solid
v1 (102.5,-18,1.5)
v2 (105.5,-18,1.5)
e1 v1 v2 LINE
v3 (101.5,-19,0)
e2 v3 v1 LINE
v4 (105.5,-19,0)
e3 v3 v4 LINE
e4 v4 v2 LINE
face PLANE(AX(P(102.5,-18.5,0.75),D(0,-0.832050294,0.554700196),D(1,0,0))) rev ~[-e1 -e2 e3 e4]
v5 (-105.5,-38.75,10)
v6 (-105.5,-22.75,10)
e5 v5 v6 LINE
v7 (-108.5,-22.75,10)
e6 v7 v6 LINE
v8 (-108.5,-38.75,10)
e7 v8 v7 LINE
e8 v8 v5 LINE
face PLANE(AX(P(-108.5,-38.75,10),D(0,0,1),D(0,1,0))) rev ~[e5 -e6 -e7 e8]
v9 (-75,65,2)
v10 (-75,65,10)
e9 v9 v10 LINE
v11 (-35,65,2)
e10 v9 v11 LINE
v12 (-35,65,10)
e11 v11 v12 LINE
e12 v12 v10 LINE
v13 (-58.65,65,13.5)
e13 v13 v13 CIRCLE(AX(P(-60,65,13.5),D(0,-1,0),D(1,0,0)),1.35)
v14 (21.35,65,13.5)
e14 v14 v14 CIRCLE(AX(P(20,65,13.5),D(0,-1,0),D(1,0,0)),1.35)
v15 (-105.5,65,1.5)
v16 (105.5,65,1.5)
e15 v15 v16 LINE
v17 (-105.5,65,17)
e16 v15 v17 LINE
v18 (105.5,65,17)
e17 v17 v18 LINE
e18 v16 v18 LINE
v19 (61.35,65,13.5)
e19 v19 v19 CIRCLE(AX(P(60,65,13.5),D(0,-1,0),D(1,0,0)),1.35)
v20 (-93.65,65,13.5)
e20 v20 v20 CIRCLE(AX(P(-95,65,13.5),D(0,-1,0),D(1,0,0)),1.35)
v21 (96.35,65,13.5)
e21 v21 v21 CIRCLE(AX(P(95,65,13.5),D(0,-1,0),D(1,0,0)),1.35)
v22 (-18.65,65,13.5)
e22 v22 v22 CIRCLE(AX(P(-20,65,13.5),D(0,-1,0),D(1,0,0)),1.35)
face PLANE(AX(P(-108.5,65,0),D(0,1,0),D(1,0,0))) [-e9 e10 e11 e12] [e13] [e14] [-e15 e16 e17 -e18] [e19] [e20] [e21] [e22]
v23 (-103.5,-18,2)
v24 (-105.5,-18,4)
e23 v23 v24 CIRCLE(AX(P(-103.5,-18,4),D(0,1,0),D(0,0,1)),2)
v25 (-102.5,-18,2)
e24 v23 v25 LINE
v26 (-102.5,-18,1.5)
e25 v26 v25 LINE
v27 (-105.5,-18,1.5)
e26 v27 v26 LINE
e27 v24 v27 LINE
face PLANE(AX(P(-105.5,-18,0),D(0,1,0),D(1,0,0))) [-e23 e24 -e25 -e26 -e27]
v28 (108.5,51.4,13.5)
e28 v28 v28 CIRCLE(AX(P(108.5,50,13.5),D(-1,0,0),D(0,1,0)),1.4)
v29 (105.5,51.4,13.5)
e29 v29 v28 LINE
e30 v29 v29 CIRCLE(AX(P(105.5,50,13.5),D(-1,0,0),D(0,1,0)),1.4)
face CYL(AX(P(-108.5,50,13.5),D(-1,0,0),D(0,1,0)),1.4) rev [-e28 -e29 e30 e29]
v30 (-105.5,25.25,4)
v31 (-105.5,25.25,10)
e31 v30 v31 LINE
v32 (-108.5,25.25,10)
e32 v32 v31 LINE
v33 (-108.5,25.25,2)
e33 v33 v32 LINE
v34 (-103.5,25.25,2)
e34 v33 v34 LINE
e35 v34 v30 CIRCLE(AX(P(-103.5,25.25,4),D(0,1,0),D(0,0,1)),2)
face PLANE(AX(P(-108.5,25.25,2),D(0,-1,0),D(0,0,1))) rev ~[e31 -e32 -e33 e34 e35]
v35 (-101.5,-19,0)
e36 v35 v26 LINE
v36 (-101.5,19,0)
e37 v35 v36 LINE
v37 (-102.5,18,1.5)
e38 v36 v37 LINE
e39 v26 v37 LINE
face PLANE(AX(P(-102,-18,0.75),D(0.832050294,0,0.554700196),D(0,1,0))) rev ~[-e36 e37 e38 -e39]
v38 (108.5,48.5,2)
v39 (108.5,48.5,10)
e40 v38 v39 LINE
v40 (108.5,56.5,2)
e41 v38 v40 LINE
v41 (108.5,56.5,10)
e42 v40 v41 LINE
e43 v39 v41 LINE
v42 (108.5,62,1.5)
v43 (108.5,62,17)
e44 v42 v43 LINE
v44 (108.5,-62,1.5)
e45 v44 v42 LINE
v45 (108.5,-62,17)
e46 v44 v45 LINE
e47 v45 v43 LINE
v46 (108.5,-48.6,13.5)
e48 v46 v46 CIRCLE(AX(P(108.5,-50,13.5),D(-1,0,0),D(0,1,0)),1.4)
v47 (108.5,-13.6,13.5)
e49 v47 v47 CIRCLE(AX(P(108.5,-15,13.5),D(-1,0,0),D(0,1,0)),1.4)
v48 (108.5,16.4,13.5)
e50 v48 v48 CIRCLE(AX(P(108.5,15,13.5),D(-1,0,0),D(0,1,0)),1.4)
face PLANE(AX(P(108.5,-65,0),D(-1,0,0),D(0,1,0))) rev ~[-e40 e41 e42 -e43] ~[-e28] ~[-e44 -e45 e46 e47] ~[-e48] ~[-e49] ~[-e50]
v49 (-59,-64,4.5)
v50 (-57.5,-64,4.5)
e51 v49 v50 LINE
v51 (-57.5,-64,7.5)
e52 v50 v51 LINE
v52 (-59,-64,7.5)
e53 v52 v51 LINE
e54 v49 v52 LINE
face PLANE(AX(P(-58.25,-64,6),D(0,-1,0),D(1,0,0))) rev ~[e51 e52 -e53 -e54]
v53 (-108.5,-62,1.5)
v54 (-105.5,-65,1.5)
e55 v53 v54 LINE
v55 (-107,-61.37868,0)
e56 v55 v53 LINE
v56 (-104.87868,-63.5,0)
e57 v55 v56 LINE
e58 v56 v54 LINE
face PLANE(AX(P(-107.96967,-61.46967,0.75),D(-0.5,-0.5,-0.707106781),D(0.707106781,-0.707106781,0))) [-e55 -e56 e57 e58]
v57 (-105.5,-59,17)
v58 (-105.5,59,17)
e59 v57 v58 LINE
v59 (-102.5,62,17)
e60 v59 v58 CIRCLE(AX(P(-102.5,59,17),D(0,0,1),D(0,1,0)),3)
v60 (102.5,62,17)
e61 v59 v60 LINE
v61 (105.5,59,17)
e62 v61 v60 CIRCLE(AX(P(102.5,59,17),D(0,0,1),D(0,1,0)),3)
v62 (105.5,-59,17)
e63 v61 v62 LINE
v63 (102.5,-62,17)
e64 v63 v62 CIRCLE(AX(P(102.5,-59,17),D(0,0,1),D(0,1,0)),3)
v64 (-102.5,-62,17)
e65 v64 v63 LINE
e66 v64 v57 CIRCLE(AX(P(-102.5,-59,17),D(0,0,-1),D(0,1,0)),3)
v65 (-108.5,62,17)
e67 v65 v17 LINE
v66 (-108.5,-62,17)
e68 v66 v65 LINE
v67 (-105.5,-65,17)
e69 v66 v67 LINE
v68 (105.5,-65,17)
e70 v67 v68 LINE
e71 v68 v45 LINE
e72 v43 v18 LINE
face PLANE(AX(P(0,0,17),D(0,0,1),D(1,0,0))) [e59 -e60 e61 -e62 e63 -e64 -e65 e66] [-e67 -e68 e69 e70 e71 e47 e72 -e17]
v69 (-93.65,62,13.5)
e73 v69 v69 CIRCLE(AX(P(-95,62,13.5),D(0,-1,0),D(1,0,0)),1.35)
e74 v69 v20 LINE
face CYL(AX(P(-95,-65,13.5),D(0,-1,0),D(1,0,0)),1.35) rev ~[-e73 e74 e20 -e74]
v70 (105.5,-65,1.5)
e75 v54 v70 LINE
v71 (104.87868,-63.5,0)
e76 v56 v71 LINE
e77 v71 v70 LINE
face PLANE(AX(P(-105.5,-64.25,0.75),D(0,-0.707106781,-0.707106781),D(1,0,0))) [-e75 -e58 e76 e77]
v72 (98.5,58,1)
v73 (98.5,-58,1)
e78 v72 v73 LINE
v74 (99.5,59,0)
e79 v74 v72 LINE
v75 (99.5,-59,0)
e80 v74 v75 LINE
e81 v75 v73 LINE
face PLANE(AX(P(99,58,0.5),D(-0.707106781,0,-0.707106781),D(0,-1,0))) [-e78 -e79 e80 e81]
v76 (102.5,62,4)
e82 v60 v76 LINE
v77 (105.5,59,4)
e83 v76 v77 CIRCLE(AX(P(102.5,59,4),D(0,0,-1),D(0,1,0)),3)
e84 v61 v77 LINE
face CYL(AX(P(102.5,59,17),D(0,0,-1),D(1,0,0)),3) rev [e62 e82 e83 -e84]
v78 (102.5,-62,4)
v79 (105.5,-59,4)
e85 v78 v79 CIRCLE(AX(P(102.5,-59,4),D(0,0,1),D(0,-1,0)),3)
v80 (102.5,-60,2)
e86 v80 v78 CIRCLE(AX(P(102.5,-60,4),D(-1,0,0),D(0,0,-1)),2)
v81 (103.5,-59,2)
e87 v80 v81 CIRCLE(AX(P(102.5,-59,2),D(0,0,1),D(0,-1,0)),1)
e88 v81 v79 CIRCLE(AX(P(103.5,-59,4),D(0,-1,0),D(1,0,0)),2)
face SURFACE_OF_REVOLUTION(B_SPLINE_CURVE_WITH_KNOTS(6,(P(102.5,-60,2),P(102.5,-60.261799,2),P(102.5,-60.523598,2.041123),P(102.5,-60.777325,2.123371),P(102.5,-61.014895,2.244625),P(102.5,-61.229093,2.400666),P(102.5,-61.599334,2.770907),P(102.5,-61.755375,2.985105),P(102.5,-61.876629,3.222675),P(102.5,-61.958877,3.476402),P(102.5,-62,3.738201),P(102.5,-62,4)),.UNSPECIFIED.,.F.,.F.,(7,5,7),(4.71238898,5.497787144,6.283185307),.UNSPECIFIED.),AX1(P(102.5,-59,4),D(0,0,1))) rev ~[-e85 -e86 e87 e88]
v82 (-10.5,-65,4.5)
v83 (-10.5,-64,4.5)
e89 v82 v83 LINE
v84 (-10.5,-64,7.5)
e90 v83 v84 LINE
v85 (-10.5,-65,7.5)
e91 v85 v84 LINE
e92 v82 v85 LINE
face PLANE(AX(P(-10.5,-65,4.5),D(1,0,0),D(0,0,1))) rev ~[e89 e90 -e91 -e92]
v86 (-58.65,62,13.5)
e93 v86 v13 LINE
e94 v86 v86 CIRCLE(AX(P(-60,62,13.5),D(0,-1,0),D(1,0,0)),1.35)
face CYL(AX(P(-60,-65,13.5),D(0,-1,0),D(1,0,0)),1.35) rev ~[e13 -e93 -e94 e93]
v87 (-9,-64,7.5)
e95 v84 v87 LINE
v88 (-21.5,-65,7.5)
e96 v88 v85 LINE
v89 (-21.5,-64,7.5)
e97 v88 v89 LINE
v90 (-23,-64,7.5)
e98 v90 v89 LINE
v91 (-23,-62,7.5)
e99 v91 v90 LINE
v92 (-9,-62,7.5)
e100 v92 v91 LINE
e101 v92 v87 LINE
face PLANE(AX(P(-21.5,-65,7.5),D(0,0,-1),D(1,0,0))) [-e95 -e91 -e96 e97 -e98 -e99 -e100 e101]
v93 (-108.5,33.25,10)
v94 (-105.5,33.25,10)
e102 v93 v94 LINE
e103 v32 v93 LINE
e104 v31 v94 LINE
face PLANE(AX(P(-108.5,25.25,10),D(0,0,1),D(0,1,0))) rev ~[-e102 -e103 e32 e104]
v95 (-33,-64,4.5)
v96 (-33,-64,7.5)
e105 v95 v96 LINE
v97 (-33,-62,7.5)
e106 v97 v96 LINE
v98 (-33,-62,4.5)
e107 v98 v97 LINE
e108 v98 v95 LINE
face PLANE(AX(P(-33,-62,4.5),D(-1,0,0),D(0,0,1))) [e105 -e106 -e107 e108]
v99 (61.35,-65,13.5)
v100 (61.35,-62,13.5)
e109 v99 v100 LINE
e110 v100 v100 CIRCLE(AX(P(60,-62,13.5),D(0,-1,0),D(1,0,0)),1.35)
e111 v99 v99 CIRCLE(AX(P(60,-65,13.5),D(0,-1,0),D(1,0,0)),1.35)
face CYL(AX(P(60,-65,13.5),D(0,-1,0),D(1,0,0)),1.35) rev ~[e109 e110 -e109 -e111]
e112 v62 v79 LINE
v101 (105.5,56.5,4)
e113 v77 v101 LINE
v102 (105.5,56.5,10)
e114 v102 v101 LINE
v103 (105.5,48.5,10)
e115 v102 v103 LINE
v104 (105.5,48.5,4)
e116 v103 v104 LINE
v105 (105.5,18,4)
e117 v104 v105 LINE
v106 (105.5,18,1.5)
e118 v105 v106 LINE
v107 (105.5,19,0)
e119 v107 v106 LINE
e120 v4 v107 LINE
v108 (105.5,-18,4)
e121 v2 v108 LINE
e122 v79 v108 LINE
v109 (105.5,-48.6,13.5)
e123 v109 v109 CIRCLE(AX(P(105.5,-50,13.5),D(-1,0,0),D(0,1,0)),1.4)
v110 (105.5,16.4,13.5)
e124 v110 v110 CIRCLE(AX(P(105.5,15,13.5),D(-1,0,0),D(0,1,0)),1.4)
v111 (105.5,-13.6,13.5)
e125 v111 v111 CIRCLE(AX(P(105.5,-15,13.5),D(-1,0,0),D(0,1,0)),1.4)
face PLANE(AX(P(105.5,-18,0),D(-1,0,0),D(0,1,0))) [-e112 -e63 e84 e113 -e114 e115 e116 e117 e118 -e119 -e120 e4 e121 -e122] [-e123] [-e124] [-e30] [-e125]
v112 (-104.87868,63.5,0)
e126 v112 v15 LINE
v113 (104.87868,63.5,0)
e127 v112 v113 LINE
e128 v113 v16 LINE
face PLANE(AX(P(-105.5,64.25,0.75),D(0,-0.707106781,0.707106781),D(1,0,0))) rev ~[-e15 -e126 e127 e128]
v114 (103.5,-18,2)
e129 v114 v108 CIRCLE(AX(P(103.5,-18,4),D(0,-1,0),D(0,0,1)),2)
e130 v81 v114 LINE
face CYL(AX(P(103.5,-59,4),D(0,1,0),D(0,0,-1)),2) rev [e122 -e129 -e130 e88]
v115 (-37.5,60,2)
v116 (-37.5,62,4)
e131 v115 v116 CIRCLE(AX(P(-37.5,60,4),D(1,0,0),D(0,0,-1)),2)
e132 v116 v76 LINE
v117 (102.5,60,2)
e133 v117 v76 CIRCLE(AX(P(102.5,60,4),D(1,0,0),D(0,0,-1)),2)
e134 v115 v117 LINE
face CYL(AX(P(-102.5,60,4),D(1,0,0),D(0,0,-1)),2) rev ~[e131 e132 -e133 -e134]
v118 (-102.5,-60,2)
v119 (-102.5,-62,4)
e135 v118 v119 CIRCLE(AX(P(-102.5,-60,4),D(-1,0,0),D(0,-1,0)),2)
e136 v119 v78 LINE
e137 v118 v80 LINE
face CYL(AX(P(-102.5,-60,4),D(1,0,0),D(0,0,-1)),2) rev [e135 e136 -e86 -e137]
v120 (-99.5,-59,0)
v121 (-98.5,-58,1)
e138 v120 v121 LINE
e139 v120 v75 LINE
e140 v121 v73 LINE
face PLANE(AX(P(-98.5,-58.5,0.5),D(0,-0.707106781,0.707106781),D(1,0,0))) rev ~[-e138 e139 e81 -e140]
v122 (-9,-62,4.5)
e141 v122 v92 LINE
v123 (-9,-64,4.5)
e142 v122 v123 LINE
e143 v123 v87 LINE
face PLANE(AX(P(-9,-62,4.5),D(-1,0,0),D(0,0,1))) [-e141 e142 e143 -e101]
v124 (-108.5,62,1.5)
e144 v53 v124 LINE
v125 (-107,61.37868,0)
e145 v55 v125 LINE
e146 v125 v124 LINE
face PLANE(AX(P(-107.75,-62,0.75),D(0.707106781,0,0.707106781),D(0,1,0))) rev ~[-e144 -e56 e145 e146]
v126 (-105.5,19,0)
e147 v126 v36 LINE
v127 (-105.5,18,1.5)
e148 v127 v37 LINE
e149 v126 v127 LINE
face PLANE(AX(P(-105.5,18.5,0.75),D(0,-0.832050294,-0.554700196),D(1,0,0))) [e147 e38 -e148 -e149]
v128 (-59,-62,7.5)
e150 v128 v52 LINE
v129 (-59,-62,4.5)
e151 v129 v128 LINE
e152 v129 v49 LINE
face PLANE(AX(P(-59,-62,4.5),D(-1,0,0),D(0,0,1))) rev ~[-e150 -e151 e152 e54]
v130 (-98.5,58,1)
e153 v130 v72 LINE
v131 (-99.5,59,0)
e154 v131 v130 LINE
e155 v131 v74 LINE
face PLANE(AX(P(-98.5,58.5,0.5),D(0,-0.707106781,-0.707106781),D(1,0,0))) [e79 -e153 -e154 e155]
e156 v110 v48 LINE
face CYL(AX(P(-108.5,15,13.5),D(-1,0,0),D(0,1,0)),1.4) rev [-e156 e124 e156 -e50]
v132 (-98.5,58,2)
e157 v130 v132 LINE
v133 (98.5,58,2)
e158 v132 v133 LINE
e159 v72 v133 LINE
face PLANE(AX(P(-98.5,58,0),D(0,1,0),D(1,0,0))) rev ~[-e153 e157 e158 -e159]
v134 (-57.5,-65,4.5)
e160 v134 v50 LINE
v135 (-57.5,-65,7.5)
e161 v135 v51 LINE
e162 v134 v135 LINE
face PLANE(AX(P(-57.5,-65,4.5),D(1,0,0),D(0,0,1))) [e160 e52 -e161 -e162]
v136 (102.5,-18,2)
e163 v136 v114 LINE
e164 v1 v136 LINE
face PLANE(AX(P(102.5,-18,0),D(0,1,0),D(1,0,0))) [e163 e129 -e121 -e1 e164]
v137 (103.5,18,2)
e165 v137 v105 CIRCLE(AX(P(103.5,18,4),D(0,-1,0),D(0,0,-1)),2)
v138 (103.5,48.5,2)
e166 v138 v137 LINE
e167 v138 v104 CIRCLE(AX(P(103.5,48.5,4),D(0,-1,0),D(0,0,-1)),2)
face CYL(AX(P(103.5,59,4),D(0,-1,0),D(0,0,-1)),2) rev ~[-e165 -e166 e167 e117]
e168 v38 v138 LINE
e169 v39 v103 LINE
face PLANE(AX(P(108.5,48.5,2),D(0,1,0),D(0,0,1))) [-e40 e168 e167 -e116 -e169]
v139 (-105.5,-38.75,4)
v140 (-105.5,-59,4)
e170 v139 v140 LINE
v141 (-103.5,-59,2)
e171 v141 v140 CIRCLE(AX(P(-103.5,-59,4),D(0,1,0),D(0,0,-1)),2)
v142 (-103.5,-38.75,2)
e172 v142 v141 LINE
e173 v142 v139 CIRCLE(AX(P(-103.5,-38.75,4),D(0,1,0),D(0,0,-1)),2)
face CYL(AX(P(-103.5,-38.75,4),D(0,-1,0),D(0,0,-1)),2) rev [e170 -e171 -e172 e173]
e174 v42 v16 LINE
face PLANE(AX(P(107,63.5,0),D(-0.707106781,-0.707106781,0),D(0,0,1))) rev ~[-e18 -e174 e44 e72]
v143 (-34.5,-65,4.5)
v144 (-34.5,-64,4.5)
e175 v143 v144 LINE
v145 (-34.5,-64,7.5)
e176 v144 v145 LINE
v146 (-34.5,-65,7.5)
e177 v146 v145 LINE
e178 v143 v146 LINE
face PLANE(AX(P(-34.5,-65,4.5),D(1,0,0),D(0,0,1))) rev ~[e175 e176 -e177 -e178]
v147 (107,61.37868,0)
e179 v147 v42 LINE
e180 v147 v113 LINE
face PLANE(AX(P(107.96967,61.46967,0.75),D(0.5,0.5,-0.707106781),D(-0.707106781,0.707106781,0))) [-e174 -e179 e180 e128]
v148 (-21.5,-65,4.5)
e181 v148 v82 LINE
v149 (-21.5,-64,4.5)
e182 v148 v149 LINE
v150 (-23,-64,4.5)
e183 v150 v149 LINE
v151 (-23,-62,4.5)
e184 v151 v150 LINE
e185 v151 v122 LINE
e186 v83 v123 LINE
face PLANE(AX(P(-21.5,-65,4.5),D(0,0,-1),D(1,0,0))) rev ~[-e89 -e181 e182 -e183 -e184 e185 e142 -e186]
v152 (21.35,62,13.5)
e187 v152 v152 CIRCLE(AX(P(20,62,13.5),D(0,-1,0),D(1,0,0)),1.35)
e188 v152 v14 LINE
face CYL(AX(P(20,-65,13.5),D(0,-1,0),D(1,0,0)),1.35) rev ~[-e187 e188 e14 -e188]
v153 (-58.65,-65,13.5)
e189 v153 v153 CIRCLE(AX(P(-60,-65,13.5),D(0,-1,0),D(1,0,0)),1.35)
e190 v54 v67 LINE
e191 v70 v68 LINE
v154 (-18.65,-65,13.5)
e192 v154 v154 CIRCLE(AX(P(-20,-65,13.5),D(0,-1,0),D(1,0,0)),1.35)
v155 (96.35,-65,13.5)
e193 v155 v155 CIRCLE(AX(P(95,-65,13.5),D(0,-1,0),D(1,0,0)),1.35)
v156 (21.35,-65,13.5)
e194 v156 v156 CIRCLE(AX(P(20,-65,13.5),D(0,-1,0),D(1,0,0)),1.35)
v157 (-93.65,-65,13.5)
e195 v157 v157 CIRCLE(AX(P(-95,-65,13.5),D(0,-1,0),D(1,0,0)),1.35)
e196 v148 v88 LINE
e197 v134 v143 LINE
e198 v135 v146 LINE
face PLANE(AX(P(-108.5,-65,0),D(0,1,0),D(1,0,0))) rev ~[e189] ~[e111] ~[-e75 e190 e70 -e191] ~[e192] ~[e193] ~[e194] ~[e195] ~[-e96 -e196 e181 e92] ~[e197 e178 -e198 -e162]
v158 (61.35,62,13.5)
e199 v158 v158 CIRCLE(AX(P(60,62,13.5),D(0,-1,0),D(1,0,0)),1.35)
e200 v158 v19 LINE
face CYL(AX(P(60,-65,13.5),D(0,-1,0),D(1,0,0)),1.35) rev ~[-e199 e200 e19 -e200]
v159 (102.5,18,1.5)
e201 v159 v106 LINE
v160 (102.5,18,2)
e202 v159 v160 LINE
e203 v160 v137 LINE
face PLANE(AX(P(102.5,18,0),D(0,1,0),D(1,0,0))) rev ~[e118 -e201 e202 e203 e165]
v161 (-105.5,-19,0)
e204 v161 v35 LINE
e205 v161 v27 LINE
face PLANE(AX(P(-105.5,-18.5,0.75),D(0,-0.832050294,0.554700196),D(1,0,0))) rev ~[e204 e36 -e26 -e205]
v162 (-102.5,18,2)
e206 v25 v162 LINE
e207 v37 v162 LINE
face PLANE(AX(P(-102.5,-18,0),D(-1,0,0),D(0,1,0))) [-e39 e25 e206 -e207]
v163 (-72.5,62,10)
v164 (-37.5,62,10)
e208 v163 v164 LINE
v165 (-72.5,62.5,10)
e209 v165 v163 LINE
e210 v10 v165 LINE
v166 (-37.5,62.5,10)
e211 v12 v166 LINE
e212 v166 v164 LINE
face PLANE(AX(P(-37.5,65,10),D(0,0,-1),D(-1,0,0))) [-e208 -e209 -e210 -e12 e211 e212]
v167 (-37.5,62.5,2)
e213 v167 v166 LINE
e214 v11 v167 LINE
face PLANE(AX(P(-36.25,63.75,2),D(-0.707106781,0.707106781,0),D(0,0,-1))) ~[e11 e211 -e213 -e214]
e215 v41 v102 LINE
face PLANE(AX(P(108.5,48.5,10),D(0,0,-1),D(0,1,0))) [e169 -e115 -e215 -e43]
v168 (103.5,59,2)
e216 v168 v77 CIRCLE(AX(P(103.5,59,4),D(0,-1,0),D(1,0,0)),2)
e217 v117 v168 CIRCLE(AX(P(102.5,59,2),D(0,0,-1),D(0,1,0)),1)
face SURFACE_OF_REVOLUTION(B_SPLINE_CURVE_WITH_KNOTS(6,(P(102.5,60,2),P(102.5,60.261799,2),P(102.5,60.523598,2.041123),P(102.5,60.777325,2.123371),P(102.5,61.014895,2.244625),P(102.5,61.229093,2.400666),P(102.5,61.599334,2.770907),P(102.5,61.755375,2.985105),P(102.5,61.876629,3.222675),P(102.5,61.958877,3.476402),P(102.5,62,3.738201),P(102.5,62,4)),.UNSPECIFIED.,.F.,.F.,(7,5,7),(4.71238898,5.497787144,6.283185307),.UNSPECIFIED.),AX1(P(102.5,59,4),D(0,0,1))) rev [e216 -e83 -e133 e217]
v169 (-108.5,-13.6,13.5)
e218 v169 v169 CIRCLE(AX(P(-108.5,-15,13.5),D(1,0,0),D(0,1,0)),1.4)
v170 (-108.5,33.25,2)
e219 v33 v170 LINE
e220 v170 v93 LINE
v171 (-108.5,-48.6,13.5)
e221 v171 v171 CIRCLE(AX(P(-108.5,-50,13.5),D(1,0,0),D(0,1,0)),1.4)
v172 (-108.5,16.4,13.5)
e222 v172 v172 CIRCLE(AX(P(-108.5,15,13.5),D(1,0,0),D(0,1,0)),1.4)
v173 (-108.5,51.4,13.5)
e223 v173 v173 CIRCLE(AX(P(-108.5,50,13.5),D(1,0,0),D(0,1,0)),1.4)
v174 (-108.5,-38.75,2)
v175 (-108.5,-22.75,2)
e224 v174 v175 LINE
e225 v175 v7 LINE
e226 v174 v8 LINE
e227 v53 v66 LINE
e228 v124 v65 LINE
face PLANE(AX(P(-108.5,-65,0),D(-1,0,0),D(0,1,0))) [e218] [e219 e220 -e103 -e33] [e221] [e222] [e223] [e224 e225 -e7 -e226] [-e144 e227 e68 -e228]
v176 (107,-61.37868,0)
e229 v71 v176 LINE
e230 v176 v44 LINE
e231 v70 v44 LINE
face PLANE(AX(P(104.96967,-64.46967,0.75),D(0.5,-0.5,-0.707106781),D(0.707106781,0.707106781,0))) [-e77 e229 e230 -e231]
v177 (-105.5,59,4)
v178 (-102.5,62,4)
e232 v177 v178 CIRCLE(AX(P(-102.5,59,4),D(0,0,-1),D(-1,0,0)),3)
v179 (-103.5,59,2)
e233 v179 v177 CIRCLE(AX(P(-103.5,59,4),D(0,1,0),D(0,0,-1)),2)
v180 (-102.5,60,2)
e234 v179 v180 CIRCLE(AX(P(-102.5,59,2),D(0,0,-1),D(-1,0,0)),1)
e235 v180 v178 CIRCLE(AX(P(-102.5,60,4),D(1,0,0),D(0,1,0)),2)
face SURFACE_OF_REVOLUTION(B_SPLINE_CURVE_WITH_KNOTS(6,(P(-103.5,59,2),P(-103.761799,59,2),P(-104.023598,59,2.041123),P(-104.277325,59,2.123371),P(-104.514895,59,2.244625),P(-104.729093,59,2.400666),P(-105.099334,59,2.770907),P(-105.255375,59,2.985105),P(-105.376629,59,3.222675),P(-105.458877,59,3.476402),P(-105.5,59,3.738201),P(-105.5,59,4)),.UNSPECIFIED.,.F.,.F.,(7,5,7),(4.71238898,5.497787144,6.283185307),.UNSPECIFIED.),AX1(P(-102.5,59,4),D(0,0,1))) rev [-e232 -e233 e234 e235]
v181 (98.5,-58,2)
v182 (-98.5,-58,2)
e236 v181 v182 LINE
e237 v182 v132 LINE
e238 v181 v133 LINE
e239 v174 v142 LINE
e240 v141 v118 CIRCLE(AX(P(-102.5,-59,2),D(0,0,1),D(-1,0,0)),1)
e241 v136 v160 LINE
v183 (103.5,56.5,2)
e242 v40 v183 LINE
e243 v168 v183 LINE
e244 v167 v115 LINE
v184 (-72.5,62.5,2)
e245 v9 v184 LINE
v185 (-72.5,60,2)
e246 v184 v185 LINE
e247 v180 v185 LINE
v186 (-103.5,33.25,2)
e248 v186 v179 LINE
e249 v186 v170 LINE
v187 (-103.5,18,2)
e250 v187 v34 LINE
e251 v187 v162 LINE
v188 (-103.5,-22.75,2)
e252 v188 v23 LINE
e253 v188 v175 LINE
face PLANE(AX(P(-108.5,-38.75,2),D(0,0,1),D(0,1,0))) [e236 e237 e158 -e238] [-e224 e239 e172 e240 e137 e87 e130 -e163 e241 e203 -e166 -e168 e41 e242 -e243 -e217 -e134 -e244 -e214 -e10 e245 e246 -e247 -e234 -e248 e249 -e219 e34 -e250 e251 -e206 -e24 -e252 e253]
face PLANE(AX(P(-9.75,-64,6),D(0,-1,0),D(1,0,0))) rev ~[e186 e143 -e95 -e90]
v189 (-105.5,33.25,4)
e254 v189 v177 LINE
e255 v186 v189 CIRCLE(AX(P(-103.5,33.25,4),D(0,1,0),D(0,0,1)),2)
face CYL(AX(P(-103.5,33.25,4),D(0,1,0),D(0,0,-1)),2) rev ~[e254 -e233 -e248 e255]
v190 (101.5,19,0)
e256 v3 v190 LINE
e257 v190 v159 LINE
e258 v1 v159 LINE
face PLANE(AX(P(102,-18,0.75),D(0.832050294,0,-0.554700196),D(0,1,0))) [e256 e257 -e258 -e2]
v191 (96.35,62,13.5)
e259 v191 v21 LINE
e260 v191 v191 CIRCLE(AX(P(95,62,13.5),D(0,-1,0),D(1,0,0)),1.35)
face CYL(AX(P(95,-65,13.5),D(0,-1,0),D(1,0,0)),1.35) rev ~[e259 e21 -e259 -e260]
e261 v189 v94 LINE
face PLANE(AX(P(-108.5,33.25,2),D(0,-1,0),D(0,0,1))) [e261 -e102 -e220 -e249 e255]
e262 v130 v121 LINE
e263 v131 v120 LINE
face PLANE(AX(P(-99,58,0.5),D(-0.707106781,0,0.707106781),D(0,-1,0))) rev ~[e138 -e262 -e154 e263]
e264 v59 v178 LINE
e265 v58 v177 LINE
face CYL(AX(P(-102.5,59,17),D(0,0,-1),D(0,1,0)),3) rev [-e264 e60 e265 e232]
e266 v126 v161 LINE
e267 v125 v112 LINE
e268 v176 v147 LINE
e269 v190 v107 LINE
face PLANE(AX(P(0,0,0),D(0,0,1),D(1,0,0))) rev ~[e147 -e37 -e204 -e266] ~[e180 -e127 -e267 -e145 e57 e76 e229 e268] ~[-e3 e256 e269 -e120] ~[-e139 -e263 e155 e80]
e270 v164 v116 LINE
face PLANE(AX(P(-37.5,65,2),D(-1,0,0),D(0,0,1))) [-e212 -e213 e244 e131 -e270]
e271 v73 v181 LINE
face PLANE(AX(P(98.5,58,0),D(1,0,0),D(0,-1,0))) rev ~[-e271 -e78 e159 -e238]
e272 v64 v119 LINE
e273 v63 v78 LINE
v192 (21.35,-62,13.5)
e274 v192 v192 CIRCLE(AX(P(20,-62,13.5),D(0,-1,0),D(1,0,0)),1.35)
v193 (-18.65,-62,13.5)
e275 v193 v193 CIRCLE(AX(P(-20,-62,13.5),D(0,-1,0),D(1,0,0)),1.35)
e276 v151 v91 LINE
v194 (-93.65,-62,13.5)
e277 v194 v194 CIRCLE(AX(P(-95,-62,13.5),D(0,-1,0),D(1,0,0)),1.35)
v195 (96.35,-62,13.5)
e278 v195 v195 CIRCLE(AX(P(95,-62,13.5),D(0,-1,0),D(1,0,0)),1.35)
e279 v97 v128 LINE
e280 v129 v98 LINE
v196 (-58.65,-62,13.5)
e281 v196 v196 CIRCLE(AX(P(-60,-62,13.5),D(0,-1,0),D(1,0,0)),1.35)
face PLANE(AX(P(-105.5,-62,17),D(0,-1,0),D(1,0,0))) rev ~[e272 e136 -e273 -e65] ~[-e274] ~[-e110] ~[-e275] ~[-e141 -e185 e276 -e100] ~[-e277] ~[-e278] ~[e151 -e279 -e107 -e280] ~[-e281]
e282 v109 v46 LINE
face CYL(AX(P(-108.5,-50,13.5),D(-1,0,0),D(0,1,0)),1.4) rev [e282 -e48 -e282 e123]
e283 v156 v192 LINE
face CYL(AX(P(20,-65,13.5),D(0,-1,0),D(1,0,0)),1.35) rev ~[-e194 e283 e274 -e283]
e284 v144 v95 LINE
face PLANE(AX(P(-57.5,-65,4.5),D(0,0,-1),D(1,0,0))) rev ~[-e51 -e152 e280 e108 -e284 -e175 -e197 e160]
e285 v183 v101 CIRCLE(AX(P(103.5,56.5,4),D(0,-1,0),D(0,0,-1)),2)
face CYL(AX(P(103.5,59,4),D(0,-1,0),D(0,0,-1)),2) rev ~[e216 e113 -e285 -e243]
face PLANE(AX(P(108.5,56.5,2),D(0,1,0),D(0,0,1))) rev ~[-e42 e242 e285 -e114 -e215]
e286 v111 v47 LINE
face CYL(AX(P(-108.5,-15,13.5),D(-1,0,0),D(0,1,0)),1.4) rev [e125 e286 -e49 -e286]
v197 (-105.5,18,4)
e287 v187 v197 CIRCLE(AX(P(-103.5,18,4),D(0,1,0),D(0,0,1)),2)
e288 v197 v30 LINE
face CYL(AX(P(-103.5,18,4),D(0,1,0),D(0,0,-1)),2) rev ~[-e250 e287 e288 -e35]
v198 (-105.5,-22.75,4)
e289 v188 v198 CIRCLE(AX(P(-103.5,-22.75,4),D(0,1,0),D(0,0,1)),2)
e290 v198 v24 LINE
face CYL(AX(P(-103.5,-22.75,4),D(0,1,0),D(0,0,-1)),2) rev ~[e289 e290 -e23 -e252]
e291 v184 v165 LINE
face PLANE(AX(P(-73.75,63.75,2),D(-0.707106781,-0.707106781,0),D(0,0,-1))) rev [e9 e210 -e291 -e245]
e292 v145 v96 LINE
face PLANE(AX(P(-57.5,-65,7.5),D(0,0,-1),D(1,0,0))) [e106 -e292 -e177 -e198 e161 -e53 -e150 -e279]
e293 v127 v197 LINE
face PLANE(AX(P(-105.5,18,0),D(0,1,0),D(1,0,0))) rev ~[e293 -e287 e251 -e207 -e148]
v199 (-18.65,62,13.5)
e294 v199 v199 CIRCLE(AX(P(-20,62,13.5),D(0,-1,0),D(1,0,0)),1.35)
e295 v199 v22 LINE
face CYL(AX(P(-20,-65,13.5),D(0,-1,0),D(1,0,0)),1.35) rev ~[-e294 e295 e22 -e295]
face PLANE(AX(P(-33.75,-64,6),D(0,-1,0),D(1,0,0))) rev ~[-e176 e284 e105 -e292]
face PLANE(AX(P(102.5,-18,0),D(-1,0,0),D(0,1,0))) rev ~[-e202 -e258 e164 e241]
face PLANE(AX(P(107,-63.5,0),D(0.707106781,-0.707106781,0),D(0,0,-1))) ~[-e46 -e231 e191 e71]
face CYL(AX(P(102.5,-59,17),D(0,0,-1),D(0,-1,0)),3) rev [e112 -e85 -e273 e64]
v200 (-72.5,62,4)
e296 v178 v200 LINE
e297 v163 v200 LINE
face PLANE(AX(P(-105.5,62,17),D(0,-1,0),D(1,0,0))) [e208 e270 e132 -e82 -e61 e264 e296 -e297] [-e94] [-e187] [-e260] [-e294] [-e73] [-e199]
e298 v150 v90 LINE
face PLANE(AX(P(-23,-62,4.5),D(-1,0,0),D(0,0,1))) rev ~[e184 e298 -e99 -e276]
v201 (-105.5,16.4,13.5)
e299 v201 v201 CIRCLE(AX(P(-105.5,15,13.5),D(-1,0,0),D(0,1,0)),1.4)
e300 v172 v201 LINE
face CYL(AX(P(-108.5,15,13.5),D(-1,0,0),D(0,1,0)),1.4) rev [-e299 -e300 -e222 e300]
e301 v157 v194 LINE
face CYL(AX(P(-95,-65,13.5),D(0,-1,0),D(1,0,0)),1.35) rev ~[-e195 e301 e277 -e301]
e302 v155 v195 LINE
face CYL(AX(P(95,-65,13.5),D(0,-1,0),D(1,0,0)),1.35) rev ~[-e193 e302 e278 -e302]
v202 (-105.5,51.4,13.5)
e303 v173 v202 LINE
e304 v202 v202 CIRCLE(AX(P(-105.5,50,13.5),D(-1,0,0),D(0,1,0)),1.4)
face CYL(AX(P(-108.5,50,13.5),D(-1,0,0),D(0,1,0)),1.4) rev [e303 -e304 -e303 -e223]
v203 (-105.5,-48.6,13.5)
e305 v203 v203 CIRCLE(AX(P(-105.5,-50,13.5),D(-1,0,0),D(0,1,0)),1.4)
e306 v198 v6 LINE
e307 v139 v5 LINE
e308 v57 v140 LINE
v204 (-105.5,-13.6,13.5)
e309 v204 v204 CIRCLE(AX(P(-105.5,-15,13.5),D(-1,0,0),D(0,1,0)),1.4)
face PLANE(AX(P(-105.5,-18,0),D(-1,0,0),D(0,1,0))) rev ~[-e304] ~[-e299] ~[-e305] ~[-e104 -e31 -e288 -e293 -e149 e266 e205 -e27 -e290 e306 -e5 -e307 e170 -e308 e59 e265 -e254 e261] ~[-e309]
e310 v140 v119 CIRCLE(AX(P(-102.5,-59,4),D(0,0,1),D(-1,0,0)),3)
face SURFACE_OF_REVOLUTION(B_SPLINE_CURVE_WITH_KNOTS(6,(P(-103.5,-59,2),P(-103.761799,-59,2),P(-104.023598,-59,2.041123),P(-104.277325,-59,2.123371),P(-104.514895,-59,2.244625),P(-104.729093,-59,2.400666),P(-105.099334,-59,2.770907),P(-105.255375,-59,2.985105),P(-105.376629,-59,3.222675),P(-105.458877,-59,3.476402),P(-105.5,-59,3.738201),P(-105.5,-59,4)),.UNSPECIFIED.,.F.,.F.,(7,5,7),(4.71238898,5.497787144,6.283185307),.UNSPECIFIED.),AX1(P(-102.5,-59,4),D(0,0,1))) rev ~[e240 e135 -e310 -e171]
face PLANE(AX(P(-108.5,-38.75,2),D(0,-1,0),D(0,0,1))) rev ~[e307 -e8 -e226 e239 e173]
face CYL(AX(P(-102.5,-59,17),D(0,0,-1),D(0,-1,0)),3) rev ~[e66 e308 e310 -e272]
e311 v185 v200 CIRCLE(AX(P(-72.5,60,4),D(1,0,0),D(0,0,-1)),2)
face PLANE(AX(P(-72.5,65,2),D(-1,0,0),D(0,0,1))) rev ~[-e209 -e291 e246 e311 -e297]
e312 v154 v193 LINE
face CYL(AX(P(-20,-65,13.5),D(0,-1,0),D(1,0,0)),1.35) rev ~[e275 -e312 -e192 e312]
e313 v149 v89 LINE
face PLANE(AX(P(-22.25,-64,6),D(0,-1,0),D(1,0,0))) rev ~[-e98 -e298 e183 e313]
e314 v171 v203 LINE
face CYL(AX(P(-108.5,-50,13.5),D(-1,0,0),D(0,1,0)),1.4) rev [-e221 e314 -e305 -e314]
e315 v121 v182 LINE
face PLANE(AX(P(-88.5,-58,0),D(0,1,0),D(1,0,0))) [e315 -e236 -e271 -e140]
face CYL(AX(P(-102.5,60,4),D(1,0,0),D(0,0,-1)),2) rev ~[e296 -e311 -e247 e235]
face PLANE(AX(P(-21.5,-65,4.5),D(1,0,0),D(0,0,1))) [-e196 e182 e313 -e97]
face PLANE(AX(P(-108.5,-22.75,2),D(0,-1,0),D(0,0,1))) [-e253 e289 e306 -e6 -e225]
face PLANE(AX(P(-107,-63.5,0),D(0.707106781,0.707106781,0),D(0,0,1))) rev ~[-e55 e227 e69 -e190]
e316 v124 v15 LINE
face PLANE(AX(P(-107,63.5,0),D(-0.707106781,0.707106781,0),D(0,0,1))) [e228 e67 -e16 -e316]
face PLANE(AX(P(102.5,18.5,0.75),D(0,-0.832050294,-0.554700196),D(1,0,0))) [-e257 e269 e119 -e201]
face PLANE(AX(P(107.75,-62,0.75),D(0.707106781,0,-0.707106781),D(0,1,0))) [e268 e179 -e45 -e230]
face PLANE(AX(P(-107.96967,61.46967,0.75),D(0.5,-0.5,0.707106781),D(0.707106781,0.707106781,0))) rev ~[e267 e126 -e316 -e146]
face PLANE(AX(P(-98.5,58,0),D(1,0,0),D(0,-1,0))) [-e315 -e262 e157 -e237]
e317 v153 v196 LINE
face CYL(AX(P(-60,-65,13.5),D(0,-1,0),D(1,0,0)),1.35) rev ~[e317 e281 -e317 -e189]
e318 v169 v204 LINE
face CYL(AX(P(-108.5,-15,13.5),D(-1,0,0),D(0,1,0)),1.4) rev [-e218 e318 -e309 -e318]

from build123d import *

# Parameters (mm, degrees)
SKETCH_W            = 217
SKETCH_H            = 130
SKETCH_R            = 2
SKETCH_W_2          = 177
SKETCH_H_2          = 116
SKETCH_W_3          = 3
SKETCH_H_3          = 36
PAD_DEPTH           = 17
SKETCH023_W         = 211
SKETCH023_H         = 124
POCKET_DEPTH        = 15
FILLET_R            = 3
CHAMFER_SIZE        = 3
SKETCH024_W         = 8
SKETCH024_H         = 8
SKETCH024_W_2       = 16
POCKET001_DEPTH     = 3
SKETCH025_W         = 23
SKETCH025_H         = 3
SKETCH025_W_2       = 11
POCKET002_DEPTH     = 3
SKETCH026_W         = 1.5
SKETCH026_H         = 3
POCKET003_DEPTH     = 2
FILLET001_R         = 2
CHAMFER011007_SIZE  = 1.5
CHAMFER011008_SIZE  = 1.5
CHAMFER011009_SIZE2 = 1.5
CHAMFER011009_SIZE  = 1
CHAMFER011010_SIZE  = 1.5
CHAMFER011011_SIZE2 = 1.5
CHAMFER011011_SIZE  = 1
SKETCH027_R         = 1.35
POCKET004_DEPTH     = 130.001
SKETCH028_R         = 1.4
POCKET005_DEPTH     = 217.001
SKETCH029_W         = 8
SKETCH029_H         = 8
POCKET006_DEPTH     = 5
SKETCH052_W         = 35
SKETCH052_H         = 8
POCKET024_DEPTH     = 5
CHAMFER011025_SIZE  = 2.5
SKETCH054_W         = 197
SKETCH054_H         = 116
POCKET026_DEPTH     = 17.001
SKETCH055_W         = 197
SKETCH055_H         = 1
PAD009_DEPTH        = 2
CHAMFER011026_SIZE  = 1


with BuildPart() as part:
    # Sketch → Pad (new body)
    with BuildSketch(Plane.XY):
        Rectangle(SKETCH_W, SKETCH_H)
        with Locations((-94.5, 38.75)):
            Circle(SKETCH_R, mode=Mode.SUBTRACT)
        Rectangle(SKETCH_W_2, SKETCH_H_2, mode=Mode.SUBTRACT)
        with Locations((-104, 0)):
            Rectangle(SKETCH_W_3, SKETCH_H_3, mode=Mode.SUBTRACT)
        with Locations((104, 0)):
            Rectangle(SKETCH_W_3, SKETCH_H_3, mode=Mode.SUBTRACT)
        with BuildLine():
            ThreePointArc((-92.5, -37.75), (-94.5, -35.75), (-96.5, -37.75))
            Line((-96.5, -37.75), (-96.5, -42.75))
            ThreePointArc((-96.5, -42.75), (-94.5, -44.75), (-92.5, -42.75))
            Line((-92.5, -37.75), (-92.5, -42.75))
        make_face(mode=Mode.SUBTRACT)
    extrude(amount=PAD_DEPTH)

    # Sketch023 (on Face23 of Pad) → Pocket (cut)
    with BuildSketch(Plane.XY.offset(17)):
        Rectangle(SKETCH023_W, SKETCH023_H)
    extrude(amount=-POCKET_DEPTH, mode=Mode.SUBTRACT)

    # Fillet
    fillet_edges = [part.edges().sort_by_distance(p)[0] for p in [
        (105.5, -62, 9.5),
        (-105.5, -62, 9.5),
        (-105.5, 62, 9.5),
        (105.5, 62, 9.5),
    ]]
    fillet(fillet_edges, radius=FILLET_R)

    # Chamfer
    chamfer_edges = [part.edges().sort_by_distance(p)[0] for p in [
        (-108.5, -65, 8.5),
        (108.5, -65, 8.5),
        (108.5, 65, 8.5),
        (-108.5, 65, 8.5),
    ]]
    chamfer(chamfer_edges, length=CHAMFER_SIZE)

    # Sketch024 (on DatumPlane) → Pocket001 (cut)
    with BuildSketch(Plane.YZ.offset(-108.5)):
        with Locations((29.25, 6)):
            Rectangle(SKETCH024_W, SKETCH024_H)
        with Locations((-30.75, 6)):
            Rectangle(SKETCH024_W_2, SKETCH024_H)
    extrude(amount=POCKET001_DEPTH, mode=Mode.SUBTRACT)

    # Sketch025 (on DatumPlane) → Pocket002 (cut)
    with BuildSketch(Plane.XZ.offset(65)):
        with Locations((-46, 6)):
            Rectangle(SKETCH025_W, SKETCH025_H)
        with Locations((-16, 6)):
            Rectangle(SKETCH025_W_2, SKETCH025_H)
    extrude(amount=-POCKET002_DEPTH, mode=Mode.SUBTRACT)

    # Sketch026 (on DatumPlane) → Pocket003 (cut)
    with BuildSketch(Plane.XZ.offset(62)):
        with Locations((-58.25, 6)):
            Rectangle(SKETCH026_W, SKETCH026_H)
        with Locations((-33.75, 6)):
            Rectangle(SKETCH026_W, SKETCH026_H)
        with Locations((-22.25, 6)):
            Rectangle(SKETCH026_W, SKETCH026_H)
        with Locations((-9.75, 6)):
            Rectangle(SKETCH026_W, SKETCH026_H)
    extrude(amount=POCKET003_DEPTH, mode=Mode.SUBTRACT)

    # Fillet001
    fillet001_edges = [part.edges().sort_by_distance(p)[0] for p in [
        (104.62132, -61.12132, 2),
        (-105.5, -20.375, 2),
        (-105.5, 21.625, 2),
        (-105.5, 46.125, 2),
    ]]
    fillet(fillet001_edges, radius=FILLET001_R)

    # Chamfer011007
    chamfer011007_edges = [part.edges().sort_by_distance(p)[0] for p in [
        (-96.5, 38.75, 0),
    ]]
    chamfer(chamfer011007_edges, length=CHAMFER011007_SIZE)

    # Chamfer011008
    chamfer011008_edges = [part.edges().sort_by_distance(p)[0] for p in [
        (-92.5, -40.25, 0),
    ]]
    chamfer(chamfer011008_edges, length=CHAMFER011008_SIZE)

    # Chamfer011009
    chamfer011009_edges = [part.edges().sort_by_distance(p)[0] for p in [
        (-88.5, 0, 0),
        (0, -58, 0),
        (0, 58, 0),
        (88.5, 0, 0),
    ]]
    chamfer011009_side = part.faces().sort_by_distance((-94.5, -48.779605, 0))[0]
    chamfer(chamfer011009_edges, length=CHAMFER011009_SIZE, length2=CHAMFER011009_SIZE2, reference=chamfer011009_side)

    # Chamfer011010
    chamfer011010_edges = [part.edges().sort_by_distance(p)[0] for p in [
        (-108.5, 0, 0),
        (-107, -63.5, 0),
        (0, -65, 0),
        (-107, 63.5, 0),
        (0, 65, 0),
        (107, 63.5, 0),
        (108.5, 0, 0),
        (107, -63.5, 0),
    ]]
    chamfer(chamfer011010_edges, length=CHAMFER011010_SIZE)

    # Chamfer011011
    chamfer011011_edges = [part.edges().sort_by_distance(p)[0] for p in [
        (-104, -18, 0),
        (-102.5, 0, 0),
        (-104, 18, 0),
        (104, -18, 0),
        (102.5, 0, 0),
        (104, 18, 0),
    ]]
    chamfer011011_side = part.faces().sort_by_distance((-106.751153, 0, 0))[0]
    chamfer(chamfer011011_edges, length=CHAMFER011011_SIZE, length2=CHAMFER011011_SIZE2, reference=chamfer011011_side)

    # Sketch027 (on DatumPlane) → Pocket004 (cut, through all)
    with BuildSketch(Plane.XZ.offset(65)):
        with Locations((-95, 13.5)):
            Circle(SKETCH027_R)
        with Locations((95, 13.5)):
            Circle(SKETCH027_R)
        with Locations((-60, 13.5)):
            Circle(SKETCH027_R)
        with Locations((60, 13.5)):
            Circle(SKETCH027_R)
        with Locations((-20, 13.5)):
            Circle(SKETCH027_R)
        with Locations((20, 13.5)):
            Circle(SKETCH027_R)
    extrude(amount=-POCKET004_DEPTH, mode=Mode.SUBTRACT)

    # Sketch028 (on DatumPlane) → Pocket005 (cut, through all)
    with BuildSketch(Plane.YZ.offset(-108.5)):
        with Locations((-15, 13.5)):
            Circle(SKETCH028_R)
        with Locations((15, 13.5)):
            Circle(SKETCH028_R)
        with Locations((50, 13.5)):
            Circle(SKETCH028_R)
        with Locations((-50, 13.5)):
            Circle(SKETCH028_R)
    extrude(amount=POCKET005_DEPTH, mode=Mode.SUBTRACT)

    # Sketch029 (on DatumPlane) → Pocket006 (cut)
    with BuildSketch(Plane.YZ.offset(108.5)):
        with Locations((52.5, 6)):
            Rectangle(SKETCH029_W, SKETCH029_H)
    extrude(amount=-POCKET006_DEPTH, mode=Mode.SUBTRACT)

    # Sketch052 (on Face51 of Pocket006) → Pocket024 (cut)
    with BuildSketch(Plane(origin=(0, 65, 0), x_dir=(-1, 0, 0), z_dir=(0, 1, 0))):
        with Locations((55, 6)):
            Rectangle(SKETCH052_W, SKETCH052_H)
    extrude(amount=-POCKET024_DEPTH, mode=Mode.SUBTRACT)

    # Chamfer011025
    chamfer011025_edges = [part.edges().sort_by_distance(p)[0] for p in [
        (-72.5, 65, 6),
        (-37.5, 65, 6),
    ]]
    chamfer(chamfer011025_edges, length=CHAMFER011025_SIZE)

    # Sketch054 (on Face22 of Chamfer011025) → Pocket026 (cut, through all)
    with BuildSketch(Plane(origin=(0, 0, 0), x_dir=(1, 0, 0), z_dir=(0, 0, -1))):
        Rectangle(SKETCH054_W, SKETCH054_H)
    extrude(amount=-POCKET026_DEPTH, mode=Mode.SUBTRACT)

    # Sketch055 (on Face22 of Pocket026) → Pad009 (join)
    with BuildSketch(Plane(origin=(0, 0, 0), x_dir=(1, 0, 0), z_dir=(0, 0, -1))):
        with Locations((0, -58.5)):
            Rectangle(SKETCH055_W, SKETCH055_H)
        with Locations((0, 58.5)):
            Rectangle(SKETCH055_W, SKETCH055_H)
    extrude(amount=-PAD009_DEPTH)

    # Chamfer011026
    chamfer011026_edges = [part.edges().sort_by_distance(p)[0] for p in [
        (-98.5, 0, 0),
        (0, -58, 0),
        (98.5, 0, 0),
        (0, 58, 0),
    ]]
    chamfer(chamfer011026_edges, length=CHAMFER011026_SIZE)


solid = part.part
